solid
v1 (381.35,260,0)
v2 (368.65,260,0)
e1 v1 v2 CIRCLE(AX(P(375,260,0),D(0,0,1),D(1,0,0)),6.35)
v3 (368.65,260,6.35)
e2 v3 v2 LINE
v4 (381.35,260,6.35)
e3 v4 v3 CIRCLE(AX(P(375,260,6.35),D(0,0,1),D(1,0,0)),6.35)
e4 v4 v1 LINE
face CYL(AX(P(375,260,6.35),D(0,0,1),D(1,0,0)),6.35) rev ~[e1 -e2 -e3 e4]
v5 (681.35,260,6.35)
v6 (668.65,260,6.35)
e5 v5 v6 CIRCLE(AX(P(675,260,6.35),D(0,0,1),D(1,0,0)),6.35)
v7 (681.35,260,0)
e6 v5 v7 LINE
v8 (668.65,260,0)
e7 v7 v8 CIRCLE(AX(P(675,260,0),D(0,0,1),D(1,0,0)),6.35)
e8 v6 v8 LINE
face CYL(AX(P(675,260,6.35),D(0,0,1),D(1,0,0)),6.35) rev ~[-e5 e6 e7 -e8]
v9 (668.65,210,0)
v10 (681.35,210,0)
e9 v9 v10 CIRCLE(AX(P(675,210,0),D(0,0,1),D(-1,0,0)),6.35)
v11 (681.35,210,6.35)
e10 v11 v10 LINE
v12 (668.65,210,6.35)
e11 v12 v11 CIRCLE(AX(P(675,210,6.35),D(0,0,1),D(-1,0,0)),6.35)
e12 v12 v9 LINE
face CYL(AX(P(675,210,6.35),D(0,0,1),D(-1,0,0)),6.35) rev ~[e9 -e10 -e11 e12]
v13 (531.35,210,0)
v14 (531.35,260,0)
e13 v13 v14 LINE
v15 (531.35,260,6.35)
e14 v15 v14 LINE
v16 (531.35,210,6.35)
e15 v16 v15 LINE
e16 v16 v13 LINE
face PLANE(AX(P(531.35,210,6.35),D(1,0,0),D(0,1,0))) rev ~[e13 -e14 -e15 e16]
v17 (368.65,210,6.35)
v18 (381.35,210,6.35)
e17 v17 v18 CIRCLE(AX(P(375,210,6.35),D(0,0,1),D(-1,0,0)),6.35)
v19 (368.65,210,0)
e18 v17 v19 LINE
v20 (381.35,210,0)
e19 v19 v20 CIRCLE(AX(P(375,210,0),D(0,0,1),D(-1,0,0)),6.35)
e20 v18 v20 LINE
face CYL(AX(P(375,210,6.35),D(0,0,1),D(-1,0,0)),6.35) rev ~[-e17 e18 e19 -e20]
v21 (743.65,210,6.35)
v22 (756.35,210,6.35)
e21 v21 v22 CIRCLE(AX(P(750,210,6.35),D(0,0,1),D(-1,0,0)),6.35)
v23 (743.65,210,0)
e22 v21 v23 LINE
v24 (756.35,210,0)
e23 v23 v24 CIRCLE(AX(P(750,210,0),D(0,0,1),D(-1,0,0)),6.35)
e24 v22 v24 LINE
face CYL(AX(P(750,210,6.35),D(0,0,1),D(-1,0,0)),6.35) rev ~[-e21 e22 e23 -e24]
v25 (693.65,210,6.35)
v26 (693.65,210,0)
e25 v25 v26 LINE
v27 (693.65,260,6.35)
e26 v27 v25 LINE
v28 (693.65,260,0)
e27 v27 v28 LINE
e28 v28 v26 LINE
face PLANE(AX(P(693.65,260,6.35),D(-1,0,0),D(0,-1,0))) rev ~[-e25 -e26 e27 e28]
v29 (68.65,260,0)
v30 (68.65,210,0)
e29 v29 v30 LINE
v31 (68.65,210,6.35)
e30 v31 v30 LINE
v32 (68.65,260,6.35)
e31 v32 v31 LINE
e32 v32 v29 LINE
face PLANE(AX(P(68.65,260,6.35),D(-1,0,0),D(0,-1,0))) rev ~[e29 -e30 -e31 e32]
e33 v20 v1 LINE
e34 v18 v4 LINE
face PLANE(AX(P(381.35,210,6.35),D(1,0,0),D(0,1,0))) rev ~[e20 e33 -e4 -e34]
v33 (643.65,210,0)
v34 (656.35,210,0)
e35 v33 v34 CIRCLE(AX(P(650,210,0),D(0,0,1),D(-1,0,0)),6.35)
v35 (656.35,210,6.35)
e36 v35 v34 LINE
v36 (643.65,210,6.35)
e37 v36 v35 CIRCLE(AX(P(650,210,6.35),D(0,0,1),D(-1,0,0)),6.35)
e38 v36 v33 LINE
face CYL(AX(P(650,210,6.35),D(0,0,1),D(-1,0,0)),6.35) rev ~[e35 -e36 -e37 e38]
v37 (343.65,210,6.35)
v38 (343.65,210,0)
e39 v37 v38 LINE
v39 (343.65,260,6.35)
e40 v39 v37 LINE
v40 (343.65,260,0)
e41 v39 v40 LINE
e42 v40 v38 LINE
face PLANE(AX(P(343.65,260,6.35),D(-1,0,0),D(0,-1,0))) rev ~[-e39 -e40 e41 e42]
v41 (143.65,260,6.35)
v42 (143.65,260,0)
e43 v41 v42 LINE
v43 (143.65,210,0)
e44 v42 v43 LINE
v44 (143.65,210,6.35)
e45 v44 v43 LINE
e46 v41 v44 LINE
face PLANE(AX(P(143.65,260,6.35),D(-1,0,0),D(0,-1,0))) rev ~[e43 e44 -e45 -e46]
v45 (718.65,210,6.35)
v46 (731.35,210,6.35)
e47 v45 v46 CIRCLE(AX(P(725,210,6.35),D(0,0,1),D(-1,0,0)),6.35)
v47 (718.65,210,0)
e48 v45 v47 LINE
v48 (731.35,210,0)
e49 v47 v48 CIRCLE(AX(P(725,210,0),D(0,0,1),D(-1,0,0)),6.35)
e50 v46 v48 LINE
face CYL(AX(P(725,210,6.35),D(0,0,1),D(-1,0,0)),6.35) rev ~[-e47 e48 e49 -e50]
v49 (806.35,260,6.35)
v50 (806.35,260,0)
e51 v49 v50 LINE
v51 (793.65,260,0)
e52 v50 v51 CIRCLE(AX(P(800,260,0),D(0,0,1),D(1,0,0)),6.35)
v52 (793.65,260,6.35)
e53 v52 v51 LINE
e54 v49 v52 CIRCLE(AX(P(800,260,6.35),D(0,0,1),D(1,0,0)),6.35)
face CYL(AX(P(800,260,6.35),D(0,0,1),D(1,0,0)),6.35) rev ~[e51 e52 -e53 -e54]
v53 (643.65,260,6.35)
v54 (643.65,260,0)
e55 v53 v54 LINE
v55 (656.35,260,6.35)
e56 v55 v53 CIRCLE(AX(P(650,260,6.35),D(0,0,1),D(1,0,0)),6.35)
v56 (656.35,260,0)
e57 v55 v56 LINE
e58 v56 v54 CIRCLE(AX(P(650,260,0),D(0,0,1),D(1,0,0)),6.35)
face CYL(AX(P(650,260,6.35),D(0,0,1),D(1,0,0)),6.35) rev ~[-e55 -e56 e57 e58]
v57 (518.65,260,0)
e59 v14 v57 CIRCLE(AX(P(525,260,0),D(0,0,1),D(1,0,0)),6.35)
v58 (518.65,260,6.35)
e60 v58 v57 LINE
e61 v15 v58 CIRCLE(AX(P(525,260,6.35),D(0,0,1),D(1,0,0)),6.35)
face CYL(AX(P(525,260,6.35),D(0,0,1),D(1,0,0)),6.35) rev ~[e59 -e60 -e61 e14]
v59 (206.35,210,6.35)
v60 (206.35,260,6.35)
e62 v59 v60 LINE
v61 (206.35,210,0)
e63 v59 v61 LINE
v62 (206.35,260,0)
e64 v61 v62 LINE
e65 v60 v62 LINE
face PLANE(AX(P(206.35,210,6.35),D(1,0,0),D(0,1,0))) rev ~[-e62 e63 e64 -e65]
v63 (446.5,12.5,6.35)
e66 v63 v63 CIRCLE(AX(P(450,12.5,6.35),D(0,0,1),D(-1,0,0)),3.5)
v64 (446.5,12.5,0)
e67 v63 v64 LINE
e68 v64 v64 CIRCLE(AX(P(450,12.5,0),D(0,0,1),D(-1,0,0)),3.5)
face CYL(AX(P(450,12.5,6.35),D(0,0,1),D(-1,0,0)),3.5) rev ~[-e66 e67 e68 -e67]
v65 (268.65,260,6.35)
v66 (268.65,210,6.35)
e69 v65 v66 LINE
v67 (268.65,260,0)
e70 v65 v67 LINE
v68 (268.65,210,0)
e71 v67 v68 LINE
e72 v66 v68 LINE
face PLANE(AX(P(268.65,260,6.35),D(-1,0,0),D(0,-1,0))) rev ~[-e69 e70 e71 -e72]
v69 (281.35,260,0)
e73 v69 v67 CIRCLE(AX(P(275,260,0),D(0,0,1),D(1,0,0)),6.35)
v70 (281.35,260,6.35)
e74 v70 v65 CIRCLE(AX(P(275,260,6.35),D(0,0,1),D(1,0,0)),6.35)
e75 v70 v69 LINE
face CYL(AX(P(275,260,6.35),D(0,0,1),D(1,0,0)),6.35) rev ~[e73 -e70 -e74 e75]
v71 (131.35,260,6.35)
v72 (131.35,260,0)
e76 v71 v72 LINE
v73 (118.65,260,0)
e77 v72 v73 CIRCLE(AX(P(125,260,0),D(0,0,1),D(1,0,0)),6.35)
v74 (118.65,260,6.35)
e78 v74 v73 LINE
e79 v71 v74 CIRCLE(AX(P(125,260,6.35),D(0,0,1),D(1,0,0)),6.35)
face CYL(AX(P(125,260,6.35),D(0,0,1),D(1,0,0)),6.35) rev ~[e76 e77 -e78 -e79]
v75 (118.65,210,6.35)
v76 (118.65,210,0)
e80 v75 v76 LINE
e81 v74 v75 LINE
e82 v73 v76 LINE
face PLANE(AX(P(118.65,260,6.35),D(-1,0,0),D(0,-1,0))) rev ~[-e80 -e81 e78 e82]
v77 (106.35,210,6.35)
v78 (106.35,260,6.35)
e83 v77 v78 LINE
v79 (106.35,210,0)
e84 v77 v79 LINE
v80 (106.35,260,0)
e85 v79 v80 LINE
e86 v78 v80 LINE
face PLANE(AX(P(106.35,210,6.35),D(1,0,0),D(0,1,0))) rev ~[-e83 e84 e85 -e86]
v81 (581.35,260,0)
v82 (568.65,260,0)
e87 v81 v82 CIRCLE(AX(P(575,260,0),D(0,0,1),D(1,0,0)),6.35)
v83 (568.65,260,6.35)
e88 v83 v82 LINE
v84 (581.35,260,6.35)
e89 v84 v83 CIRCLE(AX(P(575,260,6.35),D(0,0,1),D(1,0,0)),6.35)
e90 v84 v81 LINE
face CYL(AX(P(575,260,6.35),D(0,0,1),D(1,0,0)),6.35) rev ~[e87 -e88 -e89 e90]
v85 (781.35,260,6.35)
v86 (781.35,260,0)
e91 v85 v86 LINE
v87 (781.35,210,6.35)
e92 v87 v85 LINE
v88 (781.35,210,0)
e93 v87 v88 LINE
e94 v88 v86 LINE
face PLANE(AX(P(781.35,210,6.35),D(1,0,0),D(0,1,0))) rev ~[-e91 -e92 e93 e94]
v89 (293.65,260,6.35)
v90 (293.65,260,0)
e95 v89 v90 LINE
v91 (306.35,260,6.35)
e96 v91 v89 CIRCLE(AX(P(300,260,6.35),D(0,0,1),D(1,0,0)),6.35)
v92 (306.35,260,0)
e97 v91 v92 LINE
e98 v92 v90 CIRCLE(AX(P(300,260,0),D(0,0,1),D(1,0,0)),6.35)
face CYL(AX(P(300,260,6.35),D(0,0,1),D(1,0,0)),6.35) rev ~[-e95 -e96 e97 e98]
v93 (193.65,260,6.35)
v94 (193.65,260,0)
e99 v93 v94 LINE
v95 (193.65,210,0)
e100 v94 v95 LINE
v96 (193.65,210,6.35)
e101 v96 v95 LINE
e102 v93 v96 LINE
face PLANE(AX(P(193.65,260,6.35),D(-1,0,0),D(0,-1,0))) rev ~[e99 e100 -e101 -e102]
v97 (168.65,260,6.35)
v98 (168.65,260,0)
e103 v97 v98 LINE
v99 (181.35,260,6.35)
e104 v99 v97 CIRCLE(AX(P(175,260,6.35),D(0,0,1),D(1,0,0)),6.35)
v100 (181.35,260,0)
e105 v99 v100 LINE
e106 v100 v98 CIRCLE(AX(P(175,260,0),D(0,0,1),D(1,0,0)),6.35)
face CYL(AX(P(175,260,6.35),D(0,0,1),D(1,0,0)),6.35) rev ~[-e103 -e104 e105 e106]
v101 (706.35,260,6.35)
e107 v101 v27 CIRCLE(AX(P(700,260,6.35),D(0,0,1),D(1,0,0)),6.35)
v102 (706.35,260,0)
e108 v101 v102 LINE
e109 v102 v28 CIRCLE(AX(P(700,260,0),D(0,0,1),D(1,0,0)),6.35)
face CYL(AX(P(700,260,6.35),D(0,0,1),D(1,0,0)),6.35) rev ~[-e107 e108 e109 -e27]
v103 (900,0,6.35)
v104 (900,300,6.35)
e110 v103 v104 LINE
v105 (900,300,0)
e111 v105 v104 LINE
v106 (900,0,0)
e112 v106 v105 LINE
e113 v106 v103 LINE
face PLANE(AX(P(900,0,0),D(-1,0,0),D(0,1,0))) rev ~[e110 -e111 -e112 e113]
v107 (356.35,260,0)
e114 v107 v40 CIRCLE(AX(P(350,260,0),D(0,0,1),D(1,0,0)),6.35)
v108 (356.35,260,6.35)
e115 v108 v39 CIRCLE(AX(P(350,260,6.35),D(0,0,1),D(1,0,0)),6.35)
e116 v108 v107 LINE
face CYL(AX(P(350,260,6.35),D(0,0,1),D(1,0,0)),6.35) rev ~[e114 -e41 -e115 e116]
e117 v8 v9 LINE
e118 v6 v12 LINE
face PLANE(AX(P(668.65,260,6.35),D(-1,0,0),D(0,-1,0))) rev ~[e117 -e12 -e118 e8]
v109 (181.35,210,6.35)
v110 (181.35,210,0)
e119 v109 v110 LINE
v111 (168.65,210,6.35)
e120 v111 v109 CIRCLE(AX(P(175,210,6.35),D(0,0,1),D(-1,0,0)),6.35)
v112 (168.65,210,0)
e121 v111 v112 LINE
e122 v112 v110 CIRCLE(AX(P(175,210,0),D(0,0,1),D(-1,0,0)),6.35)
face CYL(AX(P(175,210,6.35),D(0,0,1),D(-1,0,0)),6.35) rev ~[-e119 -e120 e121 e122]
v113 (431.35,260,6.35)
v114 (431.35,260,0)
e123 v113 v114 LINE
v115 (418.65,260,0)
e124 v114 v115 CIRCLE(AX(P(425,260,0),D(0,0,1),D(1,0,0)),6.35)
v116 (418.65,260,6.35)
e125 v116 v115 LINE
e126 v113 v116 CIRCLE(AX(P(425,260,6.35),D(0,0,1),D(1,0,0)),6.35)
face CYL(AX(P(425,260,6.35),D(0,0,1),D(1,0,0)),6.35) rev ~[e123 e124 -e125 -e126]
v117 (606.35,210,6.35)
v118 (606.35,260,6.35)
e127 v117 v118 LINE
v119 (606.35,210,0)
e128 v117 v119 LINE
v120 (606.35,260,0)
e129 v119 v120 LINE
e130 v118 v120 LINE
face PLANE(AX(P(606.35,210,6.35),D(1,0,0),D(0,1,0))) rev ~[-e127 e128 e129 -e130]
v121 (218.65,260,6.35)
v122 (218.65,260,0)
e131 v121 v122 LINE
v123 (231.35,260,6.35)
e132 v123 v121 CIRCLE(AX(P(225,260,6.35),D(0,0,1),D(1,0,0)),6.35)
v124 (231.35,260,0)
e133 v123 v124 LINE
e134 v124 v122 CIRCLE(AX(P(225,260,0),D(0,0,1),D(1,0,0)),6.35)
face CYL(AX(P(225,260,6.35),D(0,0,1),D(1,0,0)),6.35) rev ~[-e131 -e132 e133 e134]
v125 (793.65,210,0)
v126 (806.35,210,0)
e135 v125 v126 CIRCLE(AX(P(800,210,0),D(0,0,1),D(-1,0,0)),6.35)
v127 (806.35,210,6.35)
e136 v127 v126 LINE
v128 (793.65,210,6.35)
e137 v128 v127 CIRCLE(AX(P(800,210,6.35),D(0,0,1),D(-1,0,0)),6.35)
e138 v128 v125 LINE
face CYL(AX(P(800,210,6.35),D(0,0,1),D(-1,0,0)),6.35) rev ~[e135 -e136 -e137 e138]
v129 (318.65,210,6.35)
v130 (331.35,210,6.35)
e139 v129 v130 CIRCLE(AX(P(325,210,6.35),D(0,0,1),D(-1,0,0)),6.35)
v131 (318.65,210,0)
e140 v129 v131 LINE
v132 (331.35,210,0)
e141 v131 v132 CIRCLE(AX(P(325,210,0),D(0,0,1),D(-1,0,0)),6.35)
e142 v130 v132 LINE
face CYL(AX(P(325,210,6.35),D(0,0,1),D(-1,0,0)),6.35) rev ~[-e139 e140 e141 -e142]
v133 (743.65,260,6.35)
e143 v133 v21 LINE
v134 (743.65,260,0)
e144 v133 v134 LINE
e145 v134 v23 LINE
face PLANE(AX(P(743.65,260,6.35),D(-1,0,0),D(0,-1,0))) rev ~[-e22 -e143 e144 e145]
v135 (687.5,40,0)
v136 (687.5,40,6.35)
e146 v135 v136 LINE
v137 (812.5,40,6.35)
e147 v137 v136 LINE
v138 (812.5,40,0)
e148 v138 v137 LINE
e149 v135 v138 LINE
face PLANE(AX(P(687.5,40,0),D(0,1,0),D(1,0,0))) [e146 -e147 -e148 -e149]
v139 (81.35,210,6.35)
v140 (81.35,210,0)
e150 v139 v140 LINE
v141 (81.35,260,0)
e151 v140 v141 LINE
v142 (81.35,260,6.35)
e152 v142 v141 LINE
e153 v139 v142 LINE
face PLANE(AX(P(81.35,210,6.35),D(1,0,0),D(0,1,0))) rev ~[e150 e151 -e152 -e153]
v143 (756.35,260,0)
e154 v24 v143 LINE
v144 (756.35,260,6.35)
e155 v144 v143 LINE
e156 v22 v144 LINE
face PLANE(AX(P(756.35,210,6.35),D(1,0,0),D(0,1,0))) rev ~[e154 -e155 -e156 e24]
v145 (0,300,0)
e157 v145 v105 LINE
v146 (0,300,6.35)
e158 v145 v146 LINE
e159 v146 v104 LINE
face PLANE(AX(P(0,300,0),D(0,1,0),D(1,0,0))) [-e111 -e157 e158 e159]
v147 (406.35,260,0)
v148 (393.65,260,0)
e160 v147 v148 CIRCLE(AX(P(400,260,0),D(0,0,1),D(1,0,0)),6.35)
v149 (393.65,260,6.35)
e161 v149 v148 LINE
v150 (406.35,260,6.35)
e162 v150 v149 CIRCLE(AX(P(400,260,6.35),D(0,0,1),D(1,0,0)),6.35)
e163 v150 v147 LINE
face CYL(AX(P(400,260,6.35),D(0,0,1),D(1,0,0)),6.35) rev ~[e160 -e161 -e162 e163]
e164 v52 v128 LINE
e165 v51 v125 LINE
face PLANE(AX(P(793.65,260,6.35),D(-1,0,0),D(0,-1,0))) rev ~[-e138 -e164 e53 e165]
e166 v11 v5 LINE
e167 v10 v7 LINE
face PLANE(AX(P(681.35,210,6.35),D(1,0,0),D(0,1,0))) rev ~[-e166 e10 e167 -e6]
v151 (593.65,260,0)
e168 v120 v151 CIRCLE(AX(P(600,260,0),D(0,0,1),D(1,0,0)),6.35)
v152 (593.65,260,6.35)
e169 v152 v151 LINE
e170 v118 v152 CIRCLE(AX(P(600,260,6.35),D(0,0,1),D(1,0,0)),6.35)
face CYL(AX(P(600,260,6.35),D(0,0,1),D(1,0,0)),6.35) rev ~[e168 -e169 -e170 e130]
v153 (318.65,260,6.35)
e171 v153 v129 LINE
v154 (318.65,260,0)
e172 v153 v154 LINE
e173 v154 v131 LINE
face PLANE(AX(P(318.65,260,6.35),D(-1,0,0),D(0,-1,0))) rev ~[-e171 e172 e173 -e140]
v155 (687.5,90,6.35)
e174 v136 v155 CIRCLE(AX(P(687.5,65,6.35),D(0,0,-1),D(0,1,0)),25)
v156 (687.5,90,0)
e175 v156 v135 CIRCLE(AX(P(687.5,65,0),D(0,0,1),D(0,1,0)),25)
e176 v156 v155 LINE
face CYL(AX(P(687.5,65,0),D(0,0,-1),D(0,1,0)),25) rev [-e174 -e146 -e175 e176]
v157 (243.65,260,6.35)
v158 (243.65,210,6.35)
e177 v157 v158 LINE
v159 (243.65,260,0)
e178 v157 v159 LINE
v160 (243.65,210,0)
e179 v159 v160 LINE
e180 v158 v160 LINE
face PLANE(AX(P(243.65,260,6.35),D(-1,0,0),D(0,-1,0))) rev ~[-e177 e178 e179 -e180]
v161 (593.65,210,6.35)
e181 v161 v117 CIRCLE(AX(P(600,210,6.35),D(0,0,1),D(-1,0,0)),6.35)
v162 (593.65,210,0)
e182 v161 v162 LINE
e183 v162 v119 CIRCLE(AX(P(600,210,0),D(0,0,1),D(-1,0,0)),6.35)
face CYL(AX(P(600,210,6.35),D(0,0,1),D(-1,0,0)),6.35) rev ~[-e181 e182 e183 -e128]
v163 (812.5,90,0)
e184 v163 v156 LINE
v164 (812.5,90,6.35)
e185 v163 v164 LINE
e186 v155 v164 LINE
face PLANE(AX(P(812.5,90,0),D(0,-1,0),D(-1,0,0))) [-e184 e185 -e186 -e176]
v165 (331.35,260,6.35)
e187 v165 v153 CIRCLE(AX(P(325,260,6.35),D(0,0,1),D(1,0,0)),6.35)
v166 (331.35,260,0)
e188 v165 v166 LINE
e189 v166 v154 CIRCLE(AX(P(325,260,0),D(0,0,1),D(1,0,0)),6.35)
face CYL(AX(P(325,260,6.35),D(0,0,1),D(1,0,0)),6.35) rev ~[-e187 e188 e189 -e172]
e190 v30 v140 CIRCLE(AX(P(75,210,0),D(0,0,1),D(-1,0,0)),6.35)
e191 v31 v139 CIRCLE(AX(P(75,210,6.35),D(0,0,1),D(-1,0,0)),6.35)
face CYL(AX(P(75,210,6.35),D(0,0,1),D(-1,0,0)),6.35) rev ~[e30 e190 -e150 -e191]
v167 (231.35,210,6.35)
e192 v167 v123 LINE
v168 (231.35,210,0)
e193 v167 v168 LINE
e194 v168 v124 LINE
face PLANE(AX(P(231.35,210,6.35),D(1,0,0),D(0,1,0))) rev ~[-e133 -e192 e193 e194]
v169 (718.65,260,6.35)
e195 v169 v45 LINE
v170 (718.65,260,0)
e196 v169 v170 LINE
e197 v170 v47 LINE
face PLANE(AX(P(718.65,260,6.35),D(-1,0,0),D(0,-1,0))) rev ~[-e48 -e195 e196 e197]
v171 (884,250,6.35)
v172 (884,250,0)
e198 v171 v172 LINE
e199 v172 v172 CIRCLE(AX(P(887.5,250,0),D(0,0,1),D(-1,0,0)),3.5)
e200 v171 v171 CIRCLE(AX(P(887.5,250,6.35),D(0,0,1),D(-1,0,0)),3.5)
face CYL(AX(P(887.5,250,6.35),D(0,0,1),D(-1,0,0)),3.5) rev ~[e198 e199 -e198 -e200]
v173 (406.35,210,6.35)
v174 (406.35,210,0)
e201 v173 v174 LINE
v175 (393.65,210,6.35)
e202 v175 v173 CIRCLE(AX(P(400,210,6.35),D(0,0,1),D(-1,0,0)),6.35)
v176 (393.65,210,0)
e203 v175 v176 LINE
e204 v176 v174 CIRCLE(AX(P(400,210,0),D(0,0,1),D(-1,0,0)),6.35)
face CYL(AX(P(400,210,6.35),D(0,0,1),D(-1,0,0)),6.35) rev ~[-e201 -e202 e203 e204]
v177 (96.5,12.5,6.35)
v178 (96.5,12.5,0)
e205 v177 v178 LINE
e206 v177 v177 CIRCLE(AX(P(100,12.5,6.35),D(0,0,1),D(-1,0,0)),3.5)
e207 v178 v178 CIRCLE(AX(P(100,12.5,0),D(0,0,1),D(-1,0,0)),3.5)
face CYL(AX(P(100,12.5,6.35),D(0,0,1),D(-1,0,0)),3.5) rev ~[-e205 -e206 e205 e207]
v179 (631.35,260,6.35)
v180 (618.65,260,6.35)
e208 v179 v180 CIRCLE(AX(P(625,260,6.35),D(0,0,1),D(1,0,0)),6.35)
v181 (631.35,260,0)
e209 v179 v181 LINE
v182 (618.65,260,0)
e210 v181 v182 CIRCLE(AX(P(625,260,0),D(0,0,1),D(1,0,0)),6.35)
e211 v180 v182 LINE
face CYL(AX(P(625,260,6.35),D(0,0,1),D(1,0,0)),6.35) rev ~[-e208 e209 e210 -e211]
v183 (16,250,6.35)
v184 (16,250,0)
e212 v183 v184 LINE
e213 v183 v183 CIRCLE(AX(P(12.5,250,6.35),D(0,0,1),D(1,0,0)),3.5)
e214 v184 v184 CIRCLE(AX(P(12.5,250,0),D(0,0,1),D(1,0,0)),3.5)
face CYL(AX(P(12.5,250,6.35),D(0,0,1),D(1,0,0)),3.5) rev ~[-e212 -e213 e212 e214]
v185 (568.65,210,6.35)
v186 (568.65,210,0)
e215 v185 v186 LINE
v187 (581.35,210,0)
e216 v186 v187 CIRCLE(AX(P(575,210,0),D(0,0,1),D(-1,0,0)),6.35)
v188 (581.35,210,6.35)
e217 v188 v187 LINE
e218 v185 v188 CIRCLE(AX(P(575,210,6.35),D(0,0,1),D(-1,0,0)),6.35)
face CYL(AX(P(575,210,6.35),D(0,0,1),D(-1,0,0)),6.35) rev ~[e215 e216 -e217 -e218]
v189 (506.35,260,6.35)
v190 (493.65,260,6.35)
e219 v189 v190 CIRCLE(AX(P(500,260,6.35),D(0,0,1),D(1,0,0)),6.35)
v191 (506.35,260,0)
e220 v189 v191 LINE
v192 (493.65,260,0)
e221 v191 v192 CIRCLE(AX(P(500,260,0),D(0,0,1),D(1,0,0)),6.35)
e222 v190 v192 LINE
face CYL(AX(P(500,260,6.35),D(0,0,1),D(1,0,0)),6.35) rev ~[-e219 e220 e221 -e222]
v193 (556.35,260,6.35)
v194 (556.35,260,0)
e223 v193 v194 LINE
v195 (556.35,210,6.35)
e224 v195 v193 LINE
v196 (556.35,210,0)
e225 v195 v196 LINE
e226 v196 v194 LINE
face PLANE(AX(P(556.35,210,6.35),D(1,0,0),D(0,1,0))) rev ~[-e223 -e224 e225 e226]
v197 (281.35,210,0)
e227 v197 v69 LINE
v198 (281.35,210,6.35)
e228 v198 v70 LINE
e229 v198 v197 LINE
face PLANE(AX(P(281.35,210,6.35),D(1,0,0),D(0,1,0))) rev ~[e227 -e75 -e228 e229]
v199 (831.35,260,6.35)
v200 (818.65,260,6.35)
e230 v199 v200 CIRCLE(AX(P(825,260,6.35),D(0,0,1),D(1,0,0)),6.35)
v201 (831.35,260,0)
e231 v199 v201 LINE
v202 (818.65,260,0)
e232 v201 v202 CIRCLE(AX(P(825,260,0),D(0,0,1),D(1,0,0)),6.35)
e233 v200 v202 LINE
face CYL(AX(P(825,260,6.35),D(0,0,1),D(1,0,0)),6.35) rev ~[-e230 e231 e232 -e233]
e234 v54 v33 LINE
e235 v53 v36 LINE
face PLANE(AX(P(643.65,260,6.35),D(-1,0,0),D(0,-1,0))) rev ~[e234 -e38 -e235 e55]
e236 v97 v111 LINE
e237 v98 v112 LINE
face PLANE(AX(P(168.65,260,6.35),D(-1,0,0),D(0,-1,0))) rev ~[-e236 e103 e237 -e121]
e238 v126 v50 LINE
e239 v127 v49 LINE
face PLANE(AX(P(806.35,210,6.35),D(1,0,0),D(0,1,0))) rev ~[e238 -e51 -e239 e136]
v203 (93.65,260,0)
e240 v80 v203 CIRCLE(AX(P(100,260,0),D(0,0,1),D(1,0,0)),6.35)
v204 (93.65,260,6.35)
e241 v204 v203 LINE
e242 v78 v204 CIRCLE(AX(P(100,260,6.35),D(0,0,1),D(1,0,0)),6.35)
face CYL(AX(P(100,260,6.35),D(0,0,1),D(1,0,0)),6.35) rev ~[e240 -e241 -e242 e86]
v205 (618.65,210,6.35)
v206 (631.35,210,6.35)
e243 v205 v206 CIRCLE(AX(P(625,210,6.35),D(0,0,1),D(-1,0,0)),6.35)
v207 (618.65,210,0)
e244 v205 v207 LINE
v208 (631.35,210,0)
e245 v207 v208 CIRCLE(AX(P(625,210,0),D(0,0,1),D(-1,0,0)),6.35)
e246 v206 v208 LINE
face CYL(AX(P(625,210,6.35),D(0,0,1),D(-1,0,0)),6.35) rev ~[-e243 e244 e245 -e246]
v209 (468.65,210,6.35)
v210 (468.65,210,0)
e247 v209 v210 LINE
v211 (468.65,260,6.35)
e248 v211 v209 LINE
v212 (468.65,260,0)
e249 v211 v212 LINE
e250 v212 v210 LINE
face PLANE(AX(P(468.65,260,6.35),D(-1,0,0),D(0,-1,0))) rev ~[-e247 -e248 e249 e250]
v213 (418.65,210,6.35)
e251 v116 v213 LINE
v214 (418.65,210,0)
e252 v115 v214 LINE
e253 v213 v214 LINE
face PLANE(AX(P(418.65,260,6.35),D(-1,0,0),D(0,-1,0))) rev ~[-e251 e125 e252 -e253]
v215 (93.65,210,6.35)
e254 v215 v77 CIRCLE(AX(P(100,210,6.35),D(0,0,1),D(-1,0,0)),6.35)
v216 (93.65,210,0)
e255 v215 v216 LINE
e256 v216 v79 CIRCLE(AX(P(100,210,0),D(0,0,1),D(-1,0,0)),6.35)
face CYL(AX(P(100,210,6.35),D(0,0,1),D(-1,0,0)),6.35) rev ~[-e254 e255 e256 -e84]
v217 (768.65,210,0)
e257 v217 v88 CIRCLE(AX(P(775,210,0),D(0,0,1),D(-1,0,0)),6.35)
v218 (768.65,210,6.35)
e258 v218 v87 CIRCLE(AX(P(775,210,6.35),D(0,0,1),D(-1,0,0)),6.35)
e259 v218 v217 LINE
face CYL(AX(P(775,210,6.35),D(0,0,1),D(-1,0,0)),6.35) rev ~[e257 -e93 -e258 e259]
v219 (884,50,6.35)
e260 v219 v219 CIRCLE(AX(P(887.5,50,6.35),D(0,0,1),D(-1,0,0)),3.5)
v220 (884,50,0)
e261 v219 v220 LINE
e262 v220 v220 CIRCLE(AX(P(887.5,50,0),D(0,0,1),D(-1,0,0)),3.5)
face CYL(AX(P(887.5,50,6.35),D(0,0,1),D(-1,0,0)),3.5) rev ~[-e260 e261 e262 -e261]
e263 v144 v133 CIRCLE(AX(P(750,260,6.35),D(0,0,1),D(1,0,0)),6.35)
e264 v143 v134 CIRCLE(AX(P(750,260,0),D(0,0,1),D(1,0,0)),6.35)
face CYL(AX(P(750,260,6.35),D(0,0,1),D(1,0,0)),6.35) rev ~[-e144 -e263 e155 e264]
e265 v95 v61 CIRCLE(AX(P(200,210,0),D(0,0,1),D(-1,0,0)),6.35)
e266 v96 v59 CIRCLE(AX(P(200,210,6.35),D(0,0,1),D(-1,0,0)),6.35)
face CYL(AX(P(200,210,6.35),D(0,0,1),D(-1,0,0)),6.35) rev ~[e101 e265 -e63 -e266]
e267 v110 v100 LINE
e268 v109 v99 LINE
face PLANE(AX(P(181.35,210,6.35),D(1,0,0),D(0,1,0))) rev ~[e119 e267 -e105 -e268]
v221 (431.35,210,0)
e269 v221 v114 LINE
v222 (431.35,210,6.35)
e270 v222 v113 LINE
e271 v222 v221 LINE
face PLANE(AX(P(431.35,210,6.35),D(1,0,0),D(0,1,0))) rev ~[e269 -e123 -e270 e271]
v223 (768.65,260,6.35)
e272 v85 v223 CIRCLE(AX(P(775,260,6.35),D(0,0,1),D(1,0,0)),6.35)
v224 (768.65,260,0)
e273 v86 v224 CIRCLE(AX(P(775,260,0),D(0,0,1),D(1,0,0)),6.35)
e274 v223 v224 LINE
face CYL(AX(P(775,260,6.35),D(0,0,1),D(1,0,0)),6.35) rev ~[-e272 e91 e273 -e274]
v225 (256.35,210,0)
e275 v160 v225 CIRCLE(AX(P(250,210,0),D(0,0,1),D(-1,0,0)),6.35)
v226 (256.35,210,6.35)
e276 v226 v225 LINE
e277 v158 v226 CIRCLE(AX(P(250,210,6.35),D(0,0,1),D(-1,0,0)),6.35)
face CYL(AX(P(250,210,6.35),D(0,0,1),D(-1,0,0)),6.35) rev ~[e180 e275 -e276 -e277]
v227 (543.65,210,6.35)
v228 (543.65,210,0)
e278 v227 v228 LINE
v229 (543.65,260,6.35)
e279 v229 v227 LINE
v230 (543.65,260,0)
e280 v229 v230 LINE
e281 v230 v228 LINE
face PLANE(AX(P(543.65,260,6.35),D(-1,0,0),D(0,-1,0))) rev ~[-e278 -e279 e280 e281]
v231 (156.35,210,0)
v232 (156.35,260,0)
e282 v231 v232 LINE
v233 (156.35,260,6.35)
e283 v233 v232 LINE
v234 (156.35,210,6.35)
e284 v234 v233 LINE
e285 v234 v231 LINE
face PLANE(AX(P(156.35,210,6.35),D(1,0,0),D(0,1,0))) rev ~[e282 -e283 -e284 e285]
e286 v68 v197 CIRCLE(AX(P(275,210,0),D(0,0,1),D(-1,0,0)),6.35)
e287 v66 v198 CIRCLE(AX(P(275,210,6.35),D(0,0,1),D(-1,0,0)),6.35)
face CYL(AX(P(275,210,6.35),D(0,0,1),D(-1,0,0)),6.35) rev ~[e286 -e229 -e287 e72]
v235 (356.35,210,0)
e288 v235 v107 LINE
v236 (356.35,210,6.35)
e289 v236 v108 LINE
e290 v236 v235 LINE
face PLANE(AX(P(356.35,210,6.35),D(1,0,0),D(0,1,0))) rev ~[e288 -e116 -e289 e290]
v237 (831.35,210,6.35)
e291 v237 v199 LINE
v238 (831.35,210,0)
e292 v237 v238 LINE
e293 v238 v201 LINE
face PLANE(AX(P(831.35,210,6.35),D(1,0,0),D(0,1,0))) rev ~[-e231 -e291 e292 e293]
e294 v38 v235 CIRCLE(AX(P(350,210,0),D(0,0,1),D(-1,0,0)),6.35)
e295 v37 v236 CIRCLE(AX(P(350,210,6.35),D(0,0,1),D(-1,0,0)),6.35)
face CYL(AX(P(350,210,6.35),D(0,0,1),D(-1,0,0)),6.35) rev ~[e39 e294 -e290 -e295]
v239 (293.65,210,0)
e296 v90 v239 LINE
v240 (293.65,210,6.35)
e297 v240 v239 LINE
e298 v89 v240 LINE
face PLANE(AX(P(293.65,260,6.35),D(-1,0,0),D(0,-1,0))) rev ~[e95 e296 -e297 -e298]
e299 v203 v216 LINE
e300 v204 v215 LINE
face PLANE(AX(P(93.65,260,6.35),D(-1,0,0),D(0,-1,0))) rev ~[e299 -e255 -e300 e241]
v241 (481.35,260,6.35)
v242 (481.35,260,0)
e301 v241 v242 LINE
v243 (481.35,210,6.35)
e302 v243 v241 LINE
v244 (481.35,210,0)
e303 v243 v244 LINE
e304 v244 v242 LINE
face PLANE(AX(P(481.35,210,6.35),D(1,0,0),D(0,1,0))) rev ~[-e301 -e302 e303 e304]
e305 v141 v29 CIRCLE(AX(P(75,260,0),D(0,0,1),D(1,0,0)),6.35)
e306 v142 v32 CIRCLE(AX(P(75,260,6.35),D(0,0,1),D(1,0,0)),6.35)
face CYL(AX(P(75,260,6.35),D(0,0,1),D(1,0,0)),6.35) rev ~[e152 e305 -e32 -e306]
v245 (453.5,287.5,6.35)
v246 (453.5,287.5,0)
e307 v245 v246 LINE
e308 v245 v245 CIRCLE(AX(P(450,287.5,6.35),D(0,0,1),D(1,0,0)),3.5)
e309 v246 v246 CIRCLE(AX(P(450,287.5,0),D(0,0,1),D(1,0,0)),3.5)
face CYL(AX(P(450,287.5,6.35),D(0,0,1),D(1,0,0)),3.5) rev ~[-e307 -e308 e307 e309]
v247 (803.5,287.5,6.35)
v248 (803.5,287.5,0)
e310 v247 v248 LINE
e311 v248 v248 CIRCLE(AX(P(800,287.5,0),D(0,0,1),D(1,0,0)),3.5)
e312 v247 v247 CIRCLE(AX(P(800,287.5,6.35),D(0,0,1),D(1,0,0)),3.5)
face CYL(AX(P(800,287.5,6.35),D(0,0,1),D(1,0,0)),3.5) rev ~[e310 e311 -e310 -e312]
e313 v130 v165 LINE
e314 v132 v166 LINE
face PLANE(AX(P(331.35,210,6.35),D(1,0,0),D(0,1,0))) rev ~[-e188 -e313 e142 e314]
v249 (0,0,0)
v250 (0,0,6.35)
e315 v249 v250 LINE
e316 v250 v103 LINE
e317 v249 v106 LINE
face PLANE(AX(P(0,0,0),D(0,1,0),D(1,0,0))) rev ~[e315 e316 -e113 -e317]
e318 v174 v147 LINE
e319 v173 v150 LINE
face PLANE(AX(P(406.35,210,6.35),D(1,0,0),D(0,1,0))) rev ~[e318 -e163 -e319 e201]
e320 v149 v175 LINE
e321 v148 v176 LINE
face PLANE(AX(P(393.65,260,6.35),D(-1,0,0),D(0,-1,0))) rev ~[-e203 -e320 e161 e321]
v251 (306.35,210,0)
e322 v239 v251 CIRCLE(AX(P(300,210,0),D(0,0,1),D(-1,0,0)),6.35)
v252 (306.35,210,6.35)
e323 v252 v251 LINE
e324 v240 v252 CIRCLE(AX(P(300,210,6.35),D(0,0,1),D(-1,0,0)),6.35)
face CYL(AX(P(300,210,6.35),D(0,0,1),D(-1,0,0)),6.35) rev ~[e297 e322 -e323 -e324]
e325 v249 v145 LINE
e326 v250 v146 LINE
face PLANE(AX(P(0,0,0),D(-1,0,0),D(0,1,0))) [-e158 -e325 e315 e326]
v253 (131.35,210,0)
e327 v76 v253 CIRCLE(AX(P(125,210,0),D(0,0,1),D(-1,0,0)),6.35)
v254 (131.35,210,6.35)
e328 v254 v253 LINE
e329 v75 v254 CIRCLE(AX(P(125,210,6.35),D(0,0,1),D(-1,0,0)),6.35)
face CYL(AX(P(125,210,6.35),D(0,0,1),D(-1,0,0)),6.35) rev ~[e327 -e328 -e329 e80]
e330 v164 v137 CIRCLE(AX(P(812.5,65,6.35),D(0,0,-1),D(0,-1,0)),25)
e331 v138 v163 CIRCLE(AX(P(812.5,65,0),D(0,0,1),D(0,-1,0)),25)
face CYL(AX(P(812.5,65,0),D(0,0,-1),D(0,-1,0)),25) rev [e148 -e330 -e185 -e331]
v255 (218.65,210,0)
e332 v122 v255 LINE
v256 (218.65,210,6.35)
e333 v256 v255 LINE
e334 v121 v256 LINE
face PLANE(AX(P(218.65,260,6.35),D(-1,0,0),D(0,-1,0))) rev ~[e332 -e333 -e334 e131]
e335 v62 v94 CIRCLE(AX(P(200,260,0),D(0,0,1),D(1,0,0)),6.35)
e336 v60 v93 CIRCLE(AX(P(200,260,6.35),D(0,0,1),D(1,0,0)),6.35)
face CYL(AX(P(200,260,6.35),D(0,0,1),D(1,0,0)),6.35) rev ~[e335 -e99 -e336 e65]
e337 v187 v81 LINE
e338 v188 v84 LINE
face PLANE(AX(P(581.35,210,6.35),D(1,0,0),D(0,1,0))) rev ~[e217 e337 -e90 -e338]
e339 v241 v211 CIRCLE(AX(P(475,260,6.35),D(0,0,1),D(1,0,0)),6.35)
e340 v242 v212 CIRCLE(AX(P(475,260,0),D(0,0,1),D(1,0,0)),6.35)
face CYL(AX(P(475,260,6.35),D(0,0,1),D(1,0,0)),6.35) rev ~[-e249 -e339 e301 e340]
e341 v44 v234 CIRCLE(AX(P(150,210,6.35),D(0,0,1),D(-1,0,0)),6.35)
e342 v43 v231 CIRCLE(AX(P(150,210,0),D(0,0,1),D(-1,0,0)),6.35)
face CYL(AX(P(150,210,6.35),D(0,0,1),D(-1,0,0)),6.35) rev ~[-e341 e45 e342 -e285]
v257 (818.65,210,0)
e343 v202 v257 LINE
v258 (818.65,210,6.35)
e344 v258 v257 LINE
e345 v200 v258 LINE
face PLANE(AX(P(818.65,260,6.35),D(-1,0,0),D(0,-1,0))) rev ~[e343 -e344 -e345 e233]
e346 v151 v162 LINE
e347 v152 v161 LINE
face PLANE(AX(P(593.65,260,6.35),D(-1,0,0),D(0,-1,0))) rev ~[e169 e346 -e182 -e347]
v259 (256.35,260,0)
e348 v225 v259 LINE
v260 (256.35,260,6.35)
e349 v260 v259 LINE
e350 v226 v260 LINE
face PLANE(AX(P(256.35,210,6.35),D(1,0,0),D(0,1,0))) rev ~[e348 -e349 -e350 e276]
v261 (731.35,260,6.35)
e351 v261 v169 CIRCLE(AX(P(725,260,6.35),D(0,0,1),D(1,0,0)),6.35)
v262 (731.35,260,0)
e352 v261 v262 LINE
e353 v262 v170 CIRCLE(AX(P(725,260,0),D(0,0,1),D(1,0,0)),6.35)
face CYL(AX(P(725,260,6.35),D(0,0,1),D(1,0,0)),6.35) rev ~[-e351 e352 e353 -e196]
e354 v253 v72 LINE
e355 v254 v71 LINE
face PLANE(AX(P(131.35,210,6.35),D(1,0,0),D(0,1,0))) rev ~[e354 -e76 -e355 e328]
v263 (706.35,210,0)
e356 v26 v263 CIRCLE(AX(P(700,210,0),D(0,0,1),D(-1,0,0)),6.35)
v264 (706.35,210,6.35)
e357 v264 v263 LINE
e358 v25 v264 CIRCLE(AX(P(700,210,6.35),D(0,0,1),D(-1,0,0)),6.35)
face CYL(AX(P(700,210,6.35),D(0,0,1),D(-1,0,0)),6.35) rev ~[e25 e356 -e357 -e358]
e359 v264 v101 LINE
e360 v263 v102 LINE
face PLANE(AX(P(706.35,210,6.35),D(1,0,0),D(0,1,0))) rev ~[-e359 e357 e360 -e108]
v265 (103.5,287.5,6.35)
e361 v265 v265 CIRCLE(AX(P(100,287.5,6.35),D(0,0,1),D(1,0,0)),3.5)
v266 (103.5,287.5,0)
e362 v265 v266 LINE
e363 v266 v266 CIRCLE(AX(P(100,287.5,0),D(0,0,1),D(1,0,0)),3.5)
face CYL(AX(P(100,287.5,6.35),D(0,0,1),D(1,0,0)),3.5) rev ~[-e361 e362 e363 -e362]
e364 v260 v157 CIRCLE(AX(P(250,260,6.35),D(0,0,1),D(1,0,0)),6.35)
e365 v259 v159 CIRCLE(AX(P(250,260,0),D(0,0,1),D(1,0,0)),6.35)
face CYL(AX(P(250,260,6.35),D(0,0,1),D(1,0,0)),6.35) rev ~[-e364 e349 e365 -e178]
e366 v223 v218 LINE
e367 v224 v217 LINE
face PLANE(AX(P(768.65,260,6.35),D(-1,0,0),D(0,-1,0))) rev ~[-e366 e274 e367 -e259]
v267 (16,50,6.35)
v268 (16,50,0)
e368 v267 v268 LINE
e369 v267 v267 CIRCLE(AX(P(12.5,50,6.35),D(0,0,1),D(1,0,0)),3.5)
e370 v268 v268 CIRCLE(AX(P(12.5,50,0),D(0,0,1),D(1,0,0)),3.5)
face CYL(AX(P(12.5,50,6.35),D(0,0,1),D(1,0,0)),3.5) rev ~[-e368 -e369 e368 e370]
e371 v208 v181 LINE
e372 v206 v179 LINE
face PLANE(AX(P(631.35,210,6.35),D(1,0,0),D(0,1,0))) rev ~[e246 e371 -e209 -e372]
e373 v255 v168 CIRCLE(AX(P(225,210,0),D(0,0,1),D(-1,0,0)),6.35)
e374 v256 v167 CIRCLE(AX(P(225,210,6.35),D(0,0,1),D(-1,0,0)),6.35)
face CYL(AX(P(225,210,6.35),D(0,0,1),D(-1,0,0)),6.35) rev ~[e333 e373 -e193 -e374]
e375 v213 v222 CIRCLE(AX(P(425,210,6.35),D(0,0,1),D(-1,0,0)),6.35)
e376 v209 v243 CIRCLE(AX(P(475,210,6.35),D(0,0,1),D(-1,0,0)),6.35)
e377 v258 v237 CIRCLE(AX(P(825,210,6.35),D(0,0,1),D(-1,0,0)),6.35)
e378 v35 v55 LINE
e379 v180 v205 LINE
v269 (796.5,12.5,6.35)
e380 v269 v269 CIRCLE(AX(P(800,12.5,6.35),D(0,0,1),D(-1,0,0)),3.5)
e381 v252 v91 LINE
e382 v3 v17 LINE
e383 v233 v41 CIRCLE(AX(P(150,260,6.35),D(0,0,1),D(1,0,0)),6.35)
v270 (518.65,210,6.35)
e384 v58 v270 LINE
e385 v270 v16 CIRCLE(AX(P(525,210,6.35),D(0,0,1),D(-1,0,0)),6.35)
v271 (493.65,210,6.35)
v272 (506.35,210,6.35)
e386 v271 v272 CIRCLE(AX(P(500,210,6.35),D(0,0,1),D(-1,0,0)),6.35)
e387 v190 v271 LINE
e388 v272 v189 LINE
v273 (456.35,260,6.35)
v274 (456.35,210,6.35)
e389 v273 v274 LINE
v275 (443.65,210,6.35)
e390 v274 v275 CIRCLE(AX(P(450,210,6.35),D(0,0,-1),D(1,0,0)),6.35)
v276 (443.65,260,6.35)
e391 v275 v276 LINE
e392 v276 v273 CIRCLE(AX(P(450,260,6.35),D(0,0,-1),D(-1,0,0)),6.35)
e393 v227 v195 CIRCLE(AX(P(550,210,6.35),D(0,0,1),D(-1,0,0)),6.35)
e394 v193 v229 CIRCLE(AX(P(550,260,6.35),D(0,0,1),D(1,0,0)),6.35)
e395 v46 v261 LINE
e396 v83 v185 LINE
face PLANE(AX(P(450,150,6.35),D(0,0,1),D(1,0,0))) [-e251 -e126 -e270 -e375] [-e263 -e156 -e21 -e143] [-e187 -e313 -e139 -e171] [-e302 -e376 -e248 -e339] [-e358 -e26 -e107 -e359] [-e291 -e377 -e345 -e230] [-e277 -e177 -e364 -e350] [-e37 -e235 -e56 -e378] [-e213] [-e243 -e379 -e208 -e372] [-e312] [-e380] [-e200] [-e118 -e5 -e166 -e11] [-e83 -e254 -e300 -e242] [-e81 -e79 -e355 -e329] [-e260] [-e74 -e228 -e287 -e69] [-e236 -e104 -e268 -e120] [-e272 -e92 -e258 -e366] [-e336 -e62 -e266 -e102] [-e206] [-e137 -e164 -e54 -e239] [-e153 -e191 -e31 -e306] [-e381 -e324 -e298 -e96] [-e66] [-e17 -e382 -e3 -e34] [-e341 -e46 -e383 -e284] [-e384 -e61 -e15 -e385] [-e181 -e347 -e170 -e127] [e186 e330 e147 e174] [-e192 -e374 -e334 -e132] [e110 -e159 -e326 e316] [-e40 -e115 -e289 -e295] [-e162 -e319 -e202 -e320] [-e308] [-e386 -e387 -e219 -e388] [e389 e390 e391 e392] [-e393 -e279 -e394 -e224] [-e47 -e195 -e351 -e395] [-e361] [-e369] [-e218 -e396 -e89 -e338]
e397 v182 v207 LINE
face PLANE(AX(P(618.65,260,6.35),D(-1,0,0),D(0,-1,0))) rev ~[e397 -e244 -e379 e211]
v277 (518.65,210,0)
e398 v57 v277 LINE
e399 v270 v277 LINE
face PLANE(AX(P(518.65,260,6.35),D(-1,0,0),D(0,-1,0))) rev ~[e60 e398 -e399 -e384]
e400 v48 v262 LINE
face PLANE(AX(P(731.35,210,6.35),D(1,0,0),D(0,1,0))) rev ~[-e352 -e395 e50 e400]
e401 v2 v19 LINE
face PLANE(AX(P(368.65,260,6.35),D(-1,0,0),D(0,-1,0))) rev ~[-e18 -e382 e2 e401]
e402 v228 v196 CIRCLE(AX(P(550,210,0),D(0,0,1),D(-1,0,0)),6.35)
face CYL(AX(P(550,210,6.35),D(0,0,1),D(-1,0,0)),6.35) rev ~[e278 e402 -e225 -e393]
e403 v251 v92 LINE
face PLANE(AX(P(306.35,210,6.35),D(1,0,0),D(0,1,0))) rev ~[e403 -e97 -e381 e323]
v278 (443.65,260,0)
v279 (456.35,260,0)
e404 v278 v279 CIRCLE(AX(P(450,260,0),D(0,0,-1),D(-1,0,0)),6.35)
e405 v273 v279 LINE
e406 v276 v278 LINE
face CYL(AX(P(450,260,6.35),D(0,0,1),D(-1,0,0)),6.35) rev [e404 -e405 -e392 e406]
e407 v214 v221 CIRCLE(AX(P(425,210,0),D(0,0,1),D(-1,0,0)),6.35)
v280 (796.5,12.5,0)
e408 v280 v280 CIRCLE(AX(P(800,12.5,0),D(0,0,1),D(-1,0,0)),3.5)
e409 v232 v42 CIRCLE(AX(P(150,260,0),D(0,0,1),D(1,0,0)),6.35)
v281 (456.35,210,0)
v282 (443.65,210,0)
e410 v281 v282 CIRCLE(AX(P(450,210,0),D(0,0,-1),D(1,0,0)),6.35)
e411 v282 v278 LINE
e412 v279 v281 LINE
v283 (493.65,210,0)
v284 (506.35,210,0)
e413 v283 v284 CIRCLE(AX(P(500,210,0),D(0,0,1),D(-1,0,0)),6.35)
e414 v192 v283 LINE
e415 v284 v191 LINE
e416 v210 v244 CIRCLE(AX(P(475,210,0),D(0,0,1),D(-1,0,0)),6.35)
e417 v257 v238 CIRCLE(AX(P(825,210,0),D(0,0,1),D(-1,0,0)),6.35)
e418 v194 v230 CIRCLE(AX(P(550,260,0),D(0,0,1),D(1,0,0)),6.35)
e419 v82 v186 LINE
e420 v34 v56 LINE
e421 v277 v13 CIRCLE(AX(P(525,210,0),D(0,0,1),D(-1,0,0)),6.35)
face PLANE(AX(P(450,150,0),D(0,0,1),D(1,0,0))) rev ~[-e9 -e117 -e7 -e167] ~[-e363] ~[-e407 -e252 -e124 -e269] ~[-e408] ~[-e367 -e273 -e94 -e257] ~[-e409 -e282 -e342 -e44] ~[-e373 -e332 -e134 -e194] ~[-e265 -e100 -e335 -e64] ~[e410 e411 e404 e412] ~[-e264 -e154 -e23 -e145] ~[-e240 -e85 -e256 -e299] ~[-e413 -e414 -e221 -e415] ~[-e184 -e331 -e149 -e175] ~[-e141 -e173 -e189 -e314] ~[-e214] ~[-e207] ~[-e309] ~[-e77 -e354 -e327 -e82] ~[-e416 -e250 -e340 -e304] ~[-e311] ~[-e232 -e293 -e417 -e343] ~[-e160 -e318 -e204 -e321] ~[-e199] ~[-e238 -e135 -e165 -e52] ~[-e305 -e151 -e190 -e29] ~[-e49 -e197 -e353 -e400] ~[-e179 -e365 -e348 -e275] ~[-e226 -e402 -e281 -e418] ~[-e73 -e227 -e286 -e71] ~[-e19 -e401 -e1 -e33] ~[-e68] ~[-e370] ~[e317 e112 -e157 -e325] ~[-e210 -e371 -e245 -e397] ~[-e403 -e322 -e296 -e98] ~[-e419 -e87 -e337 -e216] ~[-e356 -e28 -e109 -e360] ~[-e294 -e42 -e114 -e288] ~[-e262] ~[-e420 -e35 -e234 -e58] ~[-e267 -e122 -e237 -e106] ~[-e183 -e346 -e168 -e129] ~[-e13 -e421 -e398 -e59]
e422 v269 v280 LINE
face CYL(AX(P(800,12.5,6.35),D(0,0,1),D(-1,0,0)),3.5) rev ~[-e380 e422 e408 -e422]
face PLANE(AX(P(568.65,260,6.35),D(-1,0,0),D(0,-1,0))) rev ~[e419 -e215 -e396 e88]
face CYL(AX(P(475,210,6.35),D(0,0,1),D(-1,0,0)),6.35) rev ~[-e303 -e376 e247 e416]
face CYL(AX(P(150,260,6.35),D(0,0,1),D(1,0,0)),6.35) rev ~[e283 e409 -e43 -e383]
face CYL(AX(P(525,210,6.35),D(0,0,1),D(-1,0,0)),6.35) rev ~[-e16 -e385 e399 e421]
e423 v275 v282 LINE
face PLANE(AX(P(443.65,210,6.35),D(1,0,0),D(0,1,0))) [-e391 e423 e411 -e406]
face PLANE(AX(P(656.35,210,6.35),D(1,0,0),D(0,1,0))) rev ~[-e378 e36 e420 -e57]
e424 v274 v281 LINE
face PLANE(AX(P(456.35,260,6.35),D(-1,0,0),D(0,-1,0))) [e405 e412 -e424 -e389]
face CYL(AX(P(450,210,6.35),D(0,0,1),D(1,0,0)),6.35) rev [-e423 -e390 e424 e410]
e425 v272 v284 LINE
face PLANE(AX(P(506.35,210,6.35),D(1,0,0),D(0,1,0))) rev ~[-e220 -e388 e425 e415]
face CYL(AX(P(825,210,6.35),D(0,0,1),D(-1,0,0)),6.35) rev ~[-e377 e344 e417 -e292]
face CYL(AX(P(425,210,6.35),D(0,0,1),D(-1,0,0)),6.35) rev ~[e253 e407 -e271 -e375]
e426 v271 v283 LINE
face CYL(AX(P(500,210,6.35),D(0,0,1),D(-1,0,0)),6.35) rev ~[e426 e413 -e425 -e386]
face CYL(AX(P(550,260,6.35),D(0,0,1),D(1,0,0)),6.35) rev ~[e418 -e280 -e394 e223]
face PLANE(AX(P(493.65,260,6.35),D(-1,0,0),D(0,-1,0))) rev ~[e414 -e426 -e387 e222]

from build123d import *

# Parameters (mm, degrees)
SKETCH2_W           = 900
SKETCH2_H           = 300
BOSS_EXTRUDE1_DEPTH = 6.35
CUT_EXTRUDE1_DEPTH  = 6.35
SKETCH4_R           = 3.5
CUT_EXTRUDE2_DEPTH  = 949.704549636
CUT_EXTRUDE3_DEPTH  = 10


with BuildPart() as part:
    # Sketch2 → Boss-Extrude1 (new body)
    with BuildSketch(Plane.XY):
        with Locations((450, 150)):
            Rectangle(SKETCH2_W, SKETCH2_H)
    extrude(amount=BOSS_EXTRUDE1_DEPTH)

    # Sketch3 → Cut-Extrude1 (cut)
    with BuildSketch(Plane.XY.offset(6.35)):
        with BuildLine():
            Line((443.65, 210), (443.65, 260))
            ThreePointArc((443.65, 260), (450, 266.35), (456.35, 260))
            Line((456.35, 260), (456.35, 210))
            ThreePointArc((456.35, 210), (450, 203.65), (443.65, 210))
        make_face()
        with BuildLine():
            Line((481.35, 210), (481.35, 260))
            ThreePointArc((481.35, 260), (475, 266.35), (468.65, 260))
            Line((468.65, 260), (468.65, 210))
            ThreePointArc((468.65, 210), (475, 203.65), (481.35, 210))
        make_face()
        with BuildLine():
            Line((506.35, 210), (506.35, 260))
            ThreePointArc((506.35, 260), (500, 266.35), (493.65, 260))
            Line((493.65, 260), (493.65, 210))
            ThreePointArc((493.65, 210), (500, 203.65), (506.35, 210))
        make_face()
        with BuildLine():
            Line((531.35, 210), (531.35, 260))
            ThreePointArc((531.35, 260), (525, 266.35), (518.65, 260))
            Line((518.65, 260), (518.65, 210))
            ThreePointArc((518.65, 210), (525, 203.65), (531.35, 210))
        make_face()
        with BuildLine():
            Line((556.35, 210), (556.35, 260))
            ThreePointArc((556.35, 260), (550, 266.35), (543.65, 260))
            Line((543.65, 260), (543.65, 210))
            ThreePointArc((543.65, 210), (550, 203.65), (556.35, 210))
        make_face()
        with BuildLine():
            Line((581.35, 210), (581.35, 260))
            ThreePointArc((581.35, 260), (575, 266.35), (568.65, 260))
            Line((568.65, 260), (568.65, 210))
            ThreePointArc((568.65, 210), (575, 203.65), (581.35, 210))
        make_face()
        with BuildLine():
            Line((606.35, 210), (606.35, 260))
            ThreePointArc((606.35, 260), (600, 266.35), (593.65, 260))
            Line((593.65, 260), (593.65, 210))
            ThreePointArc((593.65, 210), (600, 203.65), (606.35, 210))
        make_face()
        with BuildLine():
            Line((631.35, 210), (631.35, 260))
            ThreePointArc((631.35, 260), (625, 266.35), (618.65, 260))
            Line((618.65, 260), (618.65, 210))
            ThreePointArc((618.65, 210), (625, 203.65), (631.35, 210))
        make_face()
        with BuildLine():
            Line((656.35, 210), (656.35, 260))
            ThreePointArc((656.35, 260), (650, 266.35), (643.65, 260))
            Line((643.65, 260), (643.65, 210))
            ThreePointArc((643.65, 210), (650, 203.65), (656.35, 210))
        make_face()
        with BuildLine():
            Line((681.35, 210), (681.35, 260))
            ThreePointArc((681.35, 260), (675, 266.35), (668.65, 260))
            Line((668.65, 260), (668.65, 210))
            ThreePointArc((668.65, 210), (675, 203.65), (681.35, 210))
        make_face()
        with BuildLine():
            Line((706.35, 210), (706.35, 260))
            ThreePointArc((706.35, 260), (700, 266.35), (693.65, 260))
            Line((693.65, 260), (693.65, 210))
            ThreePointArc((693.65, 210), (700, 203.65), (706.35, 210))
        make_face()
        with BuildLine():
            Line((731.35, 210), (731.35, 260))
            ThreePointArc((731.35, 260), (725, 266.35), (718.65, 260))
            Line((718.65, 260), (718.65, 210))
            ThreePointArc((718.65, 210), (725, 203.65), (731.35, 210))
        make_face()
        with BuildLine():
            Line((756.35, 210), (756.35, 260))
            ThreePointArc((756.35, 260), (750, 266.35), (743.65, 260))
            Line((743.65, 260), (743.65, 210))
            ThreePointArc((743.65, 210), (750, 203.65), (756.35, 210))
        make_face()
        with BuildLine():
            Line((781.35, 210), (781.35, 260))
            ThreePointArc((781.35, 260), (775, 266.35), (768.65, 260))
            Line((768.65, 260), (768.65, 210))
            ThreePointArc((768.65, 210), (775, 203.65), (781.35, 210))
        make_face()
        with BuildLine():
            Line((806.35, 210), (806.35, 260))
            ThreePointArc((806.35, 260), (800, 266.35), (793.65, 260))
            Line((793.65, 260), (793.65, 210))
            ThreePointArc((793.65, 210), (800, 203.65), (806.35, 210))
        make_face()
        with BuildLine():
            Line((831.35, 210), (831.35, 260))
            ThreePointArc((831.35, 260), (825, 266.35), (818.65, 260))
            Line((818.65, 260), (818.65, 210))
            ThreePointArc((818.65, 210), (825, 203.65), (831.35, 210))
        make_face()
        with BuildLine():
            Line((431.35, 210), (431.35, 260))
            ThreePointArc((431.35, 260), (425, 266.35), (418.65, 260))
            Line((418.65, 260), (418.65, 210))
            ThreePointArc((418.65, 210), (425, 203.65), (431.35, 210))
        make_face()
        with BuildLine():
            Line((406.35, 210), (406.35, 260))
            ThreePointArc((406.35, 260), (400, 266.35), (393.65, 260))
            Line((393.65, 260), (393.65, 210))
            ThreePointArc((393.65, 210), (400, 203.65), (406.35, 210))
        make_face()
        with BuildLine():
            Line((381.35, 210), (381.35, 260))
            ThreePointArc((381.35, 260), (375, 266.35), (368.65, 260))
            Line((368.65, 260), (368.65, 210))
            ThreePointArc((368.65, 210), (375, 203.65), (381.35, 210))
        make_face()
        with BuildLine():
            Line((356.35, 210), (356.35, 260))
            ThreePointArc((356.35, 260), (350, 266.35), (343.65, 260))
            Line((343.65, 260), (343.65, 210))
            ThreePointArc((343.65, 210), (350, 203.65), (356.35, 210))
        make_face()
        with BuildLine():
            Line((331.35, 210), (331.35, 260))
            ThreePointArc((331.35, 260), (325, 266.35), (318.65, 260))
            Line((318.65, 260), (318.65, 210))
            ThreePointArc((318.65, 210), (325, 203.65), (331.35, 210))
        make_face()
        with BuildLine():
            Line((306.35, 210), (306.35, 260))
            ThreePointArc((306.35, 260), (300, 266.35), (293.65, 260))
            Line((293.65, 260), (293.65, 210))
            ThreePointArc((293.65, 210), (300, 203.65), (306.35, 210))
        make_face()
        with BuildLine():
            Line((281.35, 210), (281.35, 260))
            ThreePointArc((281.35, 260), (275, 266.35), (268.65, 260))
            Line((268.65, 260), (268.65, 210))
            ThreePointArc((268.65, 210), (275, 203.65), (281.35, 210))
        make_face()
        with BuildLine():
            Line((256.35, 210), (256.35, 260))
            ThreePointArc((256.35, 260), (250, 266.35), (243.65, 260))
            Line((243.65, 260), (243.65, 210))
            ThreePointArc((243.65, 210), (250, 203.65), (256.35, 210))
        make_face()
        with BuildLine():
            Line((231.35, 210), (231.35, 260))
            ThreePointArc((231.35, 260), (225, 266.35), (218.65, 260))
            Line((218.65, 260), (218.65, 210))
            ThreePointArc((218.65, 210), (225, 203.65), (231.35, 210))
        make_face()
        with BuildLine():
            Line((206.35, 210), (206.35, 260))
            ThreePointArc((206.35, 260), (200, 266.35), (193.65, 260))
            Line((193.65, 260), (193.65, 210))
            ThreePointArc((193.65, 210), (200, 203.65), (206.35, 210))
        make_face()
        with BuildLine():
            Line((181.35, 210), (181.35, 260))
            ThreePointArc((181.35, 260), (175, 266.35), (168.65, 260))
            Line((168.65, 260), (168.65, 210))
            ThreePointArc((168.65, 210), (175, 203.65), (181.35, 210))
        make_face()
        with BuildLine():
            Line((156.35, 210), (156.35, 260))
            ThreePointArc((156.35, 260), (150, 266.35), (143.65, 260))
            Line((143.65, 260), (143.65, 210))
            ThreePointArc((143.65, 210), (150, 203.65), (156.35, 210))
        make_face()
        with BuildLine():
            Line((131.35, 210), (131.35, 260))
            ThreePointArc((131.35, 260), (125, 266.35), (118.65, 260))
            Line((118.65, 260), (118.65, 210))
            ThreePointArc((118.65, 210), (125, 203.65), (131.35, 210))
        make_face()
        with BuildLine():
            Line((106.35, 210), (106.35, 260))
            ThreePointArc((106.35, 260), (100, 266.35), (93.65, 260))
            Line((93.65, 260), (93.65, 210))
            ThreePointArc((93.65, 210), (100, 203.65), (106.35, 210))
        make_face()
        with BuildLine():
            Line((81.35, 210), (81.35, 260))
            ThreePointArc((81.35, 260), (75, 266.35), (68.65, 260))
            Line((68.65, 260), (68.65, 210))
            ThreePointArc((68.65, 210), (75, 203.65), (81.35, 210))
        make_face()
    extrude(amount=-CUT_EXTRUDE1_DEPTH, mode=Mode.SUBTRACT)

    # Sketch4 → Cut-Extrude2 (cut, through all)
    with BuildSketch(Plane.XY.offset(6.35)):
        with Locations((12.5, 50)):
            Circle(SKETCH4_R)
        with Locations((12.5, 250)):
            Circle(SKETCH4_R)
        with Locations((450, 287.5)):
            Circle(SKETCH4_R)
        with Locations((800, 287.5)):
            Circle(SKETCH4_R)
        with Locations((100, 287.5)):
            Circle(SKETCH4_R)
        with Locations(Location((887.5, 50, 0), (0, 0, 180))):
            Circle(SKETCH4_R)
        with Locations(Location((887.5, 250, 0), (0, 0, 180))):
            Circle(SKETCH4_R)
        with Locations(Location((800, 12.5, 0), (0, 0, 180))):
            Circle(SKETCH4_R)
        with Locations(Location((450, 12.5, 0), (0, 0, 180))):
            Circle(SKETCH4_R)
        with Locations(Location((100, 12.5, 0), (0, 0, 180))):
            Circle(SKETCH4_R)
    extrude(amount=-CUT_EXTRUDE2_DEPTH, mode=Mode.SUBTRACT)

    # Sketch5 → Cut-Extrude3 (cut)
    with BuildSketch(Plane(origin=(0, 0, 0), x_dir=(-1, 0, 0), z_dir=(0, 0, -1))):
        with BuildLine():
            Line((-812.5, 90), (-687.5, 90))
            ThreePointArc((-687.5, 90), (-662.5, 65), (-687.5, 40))
            Line((-687.5, 40), (-812.5, 40))
            ThreePointArc((-812.5, 40), (-837.5, 65), (-812.5, 90))
        make_face()
    extrude(amount=-CUT_EXTRUDE3_DEPTH, mode=Mode.SUBTRACT)


solid = part.part
